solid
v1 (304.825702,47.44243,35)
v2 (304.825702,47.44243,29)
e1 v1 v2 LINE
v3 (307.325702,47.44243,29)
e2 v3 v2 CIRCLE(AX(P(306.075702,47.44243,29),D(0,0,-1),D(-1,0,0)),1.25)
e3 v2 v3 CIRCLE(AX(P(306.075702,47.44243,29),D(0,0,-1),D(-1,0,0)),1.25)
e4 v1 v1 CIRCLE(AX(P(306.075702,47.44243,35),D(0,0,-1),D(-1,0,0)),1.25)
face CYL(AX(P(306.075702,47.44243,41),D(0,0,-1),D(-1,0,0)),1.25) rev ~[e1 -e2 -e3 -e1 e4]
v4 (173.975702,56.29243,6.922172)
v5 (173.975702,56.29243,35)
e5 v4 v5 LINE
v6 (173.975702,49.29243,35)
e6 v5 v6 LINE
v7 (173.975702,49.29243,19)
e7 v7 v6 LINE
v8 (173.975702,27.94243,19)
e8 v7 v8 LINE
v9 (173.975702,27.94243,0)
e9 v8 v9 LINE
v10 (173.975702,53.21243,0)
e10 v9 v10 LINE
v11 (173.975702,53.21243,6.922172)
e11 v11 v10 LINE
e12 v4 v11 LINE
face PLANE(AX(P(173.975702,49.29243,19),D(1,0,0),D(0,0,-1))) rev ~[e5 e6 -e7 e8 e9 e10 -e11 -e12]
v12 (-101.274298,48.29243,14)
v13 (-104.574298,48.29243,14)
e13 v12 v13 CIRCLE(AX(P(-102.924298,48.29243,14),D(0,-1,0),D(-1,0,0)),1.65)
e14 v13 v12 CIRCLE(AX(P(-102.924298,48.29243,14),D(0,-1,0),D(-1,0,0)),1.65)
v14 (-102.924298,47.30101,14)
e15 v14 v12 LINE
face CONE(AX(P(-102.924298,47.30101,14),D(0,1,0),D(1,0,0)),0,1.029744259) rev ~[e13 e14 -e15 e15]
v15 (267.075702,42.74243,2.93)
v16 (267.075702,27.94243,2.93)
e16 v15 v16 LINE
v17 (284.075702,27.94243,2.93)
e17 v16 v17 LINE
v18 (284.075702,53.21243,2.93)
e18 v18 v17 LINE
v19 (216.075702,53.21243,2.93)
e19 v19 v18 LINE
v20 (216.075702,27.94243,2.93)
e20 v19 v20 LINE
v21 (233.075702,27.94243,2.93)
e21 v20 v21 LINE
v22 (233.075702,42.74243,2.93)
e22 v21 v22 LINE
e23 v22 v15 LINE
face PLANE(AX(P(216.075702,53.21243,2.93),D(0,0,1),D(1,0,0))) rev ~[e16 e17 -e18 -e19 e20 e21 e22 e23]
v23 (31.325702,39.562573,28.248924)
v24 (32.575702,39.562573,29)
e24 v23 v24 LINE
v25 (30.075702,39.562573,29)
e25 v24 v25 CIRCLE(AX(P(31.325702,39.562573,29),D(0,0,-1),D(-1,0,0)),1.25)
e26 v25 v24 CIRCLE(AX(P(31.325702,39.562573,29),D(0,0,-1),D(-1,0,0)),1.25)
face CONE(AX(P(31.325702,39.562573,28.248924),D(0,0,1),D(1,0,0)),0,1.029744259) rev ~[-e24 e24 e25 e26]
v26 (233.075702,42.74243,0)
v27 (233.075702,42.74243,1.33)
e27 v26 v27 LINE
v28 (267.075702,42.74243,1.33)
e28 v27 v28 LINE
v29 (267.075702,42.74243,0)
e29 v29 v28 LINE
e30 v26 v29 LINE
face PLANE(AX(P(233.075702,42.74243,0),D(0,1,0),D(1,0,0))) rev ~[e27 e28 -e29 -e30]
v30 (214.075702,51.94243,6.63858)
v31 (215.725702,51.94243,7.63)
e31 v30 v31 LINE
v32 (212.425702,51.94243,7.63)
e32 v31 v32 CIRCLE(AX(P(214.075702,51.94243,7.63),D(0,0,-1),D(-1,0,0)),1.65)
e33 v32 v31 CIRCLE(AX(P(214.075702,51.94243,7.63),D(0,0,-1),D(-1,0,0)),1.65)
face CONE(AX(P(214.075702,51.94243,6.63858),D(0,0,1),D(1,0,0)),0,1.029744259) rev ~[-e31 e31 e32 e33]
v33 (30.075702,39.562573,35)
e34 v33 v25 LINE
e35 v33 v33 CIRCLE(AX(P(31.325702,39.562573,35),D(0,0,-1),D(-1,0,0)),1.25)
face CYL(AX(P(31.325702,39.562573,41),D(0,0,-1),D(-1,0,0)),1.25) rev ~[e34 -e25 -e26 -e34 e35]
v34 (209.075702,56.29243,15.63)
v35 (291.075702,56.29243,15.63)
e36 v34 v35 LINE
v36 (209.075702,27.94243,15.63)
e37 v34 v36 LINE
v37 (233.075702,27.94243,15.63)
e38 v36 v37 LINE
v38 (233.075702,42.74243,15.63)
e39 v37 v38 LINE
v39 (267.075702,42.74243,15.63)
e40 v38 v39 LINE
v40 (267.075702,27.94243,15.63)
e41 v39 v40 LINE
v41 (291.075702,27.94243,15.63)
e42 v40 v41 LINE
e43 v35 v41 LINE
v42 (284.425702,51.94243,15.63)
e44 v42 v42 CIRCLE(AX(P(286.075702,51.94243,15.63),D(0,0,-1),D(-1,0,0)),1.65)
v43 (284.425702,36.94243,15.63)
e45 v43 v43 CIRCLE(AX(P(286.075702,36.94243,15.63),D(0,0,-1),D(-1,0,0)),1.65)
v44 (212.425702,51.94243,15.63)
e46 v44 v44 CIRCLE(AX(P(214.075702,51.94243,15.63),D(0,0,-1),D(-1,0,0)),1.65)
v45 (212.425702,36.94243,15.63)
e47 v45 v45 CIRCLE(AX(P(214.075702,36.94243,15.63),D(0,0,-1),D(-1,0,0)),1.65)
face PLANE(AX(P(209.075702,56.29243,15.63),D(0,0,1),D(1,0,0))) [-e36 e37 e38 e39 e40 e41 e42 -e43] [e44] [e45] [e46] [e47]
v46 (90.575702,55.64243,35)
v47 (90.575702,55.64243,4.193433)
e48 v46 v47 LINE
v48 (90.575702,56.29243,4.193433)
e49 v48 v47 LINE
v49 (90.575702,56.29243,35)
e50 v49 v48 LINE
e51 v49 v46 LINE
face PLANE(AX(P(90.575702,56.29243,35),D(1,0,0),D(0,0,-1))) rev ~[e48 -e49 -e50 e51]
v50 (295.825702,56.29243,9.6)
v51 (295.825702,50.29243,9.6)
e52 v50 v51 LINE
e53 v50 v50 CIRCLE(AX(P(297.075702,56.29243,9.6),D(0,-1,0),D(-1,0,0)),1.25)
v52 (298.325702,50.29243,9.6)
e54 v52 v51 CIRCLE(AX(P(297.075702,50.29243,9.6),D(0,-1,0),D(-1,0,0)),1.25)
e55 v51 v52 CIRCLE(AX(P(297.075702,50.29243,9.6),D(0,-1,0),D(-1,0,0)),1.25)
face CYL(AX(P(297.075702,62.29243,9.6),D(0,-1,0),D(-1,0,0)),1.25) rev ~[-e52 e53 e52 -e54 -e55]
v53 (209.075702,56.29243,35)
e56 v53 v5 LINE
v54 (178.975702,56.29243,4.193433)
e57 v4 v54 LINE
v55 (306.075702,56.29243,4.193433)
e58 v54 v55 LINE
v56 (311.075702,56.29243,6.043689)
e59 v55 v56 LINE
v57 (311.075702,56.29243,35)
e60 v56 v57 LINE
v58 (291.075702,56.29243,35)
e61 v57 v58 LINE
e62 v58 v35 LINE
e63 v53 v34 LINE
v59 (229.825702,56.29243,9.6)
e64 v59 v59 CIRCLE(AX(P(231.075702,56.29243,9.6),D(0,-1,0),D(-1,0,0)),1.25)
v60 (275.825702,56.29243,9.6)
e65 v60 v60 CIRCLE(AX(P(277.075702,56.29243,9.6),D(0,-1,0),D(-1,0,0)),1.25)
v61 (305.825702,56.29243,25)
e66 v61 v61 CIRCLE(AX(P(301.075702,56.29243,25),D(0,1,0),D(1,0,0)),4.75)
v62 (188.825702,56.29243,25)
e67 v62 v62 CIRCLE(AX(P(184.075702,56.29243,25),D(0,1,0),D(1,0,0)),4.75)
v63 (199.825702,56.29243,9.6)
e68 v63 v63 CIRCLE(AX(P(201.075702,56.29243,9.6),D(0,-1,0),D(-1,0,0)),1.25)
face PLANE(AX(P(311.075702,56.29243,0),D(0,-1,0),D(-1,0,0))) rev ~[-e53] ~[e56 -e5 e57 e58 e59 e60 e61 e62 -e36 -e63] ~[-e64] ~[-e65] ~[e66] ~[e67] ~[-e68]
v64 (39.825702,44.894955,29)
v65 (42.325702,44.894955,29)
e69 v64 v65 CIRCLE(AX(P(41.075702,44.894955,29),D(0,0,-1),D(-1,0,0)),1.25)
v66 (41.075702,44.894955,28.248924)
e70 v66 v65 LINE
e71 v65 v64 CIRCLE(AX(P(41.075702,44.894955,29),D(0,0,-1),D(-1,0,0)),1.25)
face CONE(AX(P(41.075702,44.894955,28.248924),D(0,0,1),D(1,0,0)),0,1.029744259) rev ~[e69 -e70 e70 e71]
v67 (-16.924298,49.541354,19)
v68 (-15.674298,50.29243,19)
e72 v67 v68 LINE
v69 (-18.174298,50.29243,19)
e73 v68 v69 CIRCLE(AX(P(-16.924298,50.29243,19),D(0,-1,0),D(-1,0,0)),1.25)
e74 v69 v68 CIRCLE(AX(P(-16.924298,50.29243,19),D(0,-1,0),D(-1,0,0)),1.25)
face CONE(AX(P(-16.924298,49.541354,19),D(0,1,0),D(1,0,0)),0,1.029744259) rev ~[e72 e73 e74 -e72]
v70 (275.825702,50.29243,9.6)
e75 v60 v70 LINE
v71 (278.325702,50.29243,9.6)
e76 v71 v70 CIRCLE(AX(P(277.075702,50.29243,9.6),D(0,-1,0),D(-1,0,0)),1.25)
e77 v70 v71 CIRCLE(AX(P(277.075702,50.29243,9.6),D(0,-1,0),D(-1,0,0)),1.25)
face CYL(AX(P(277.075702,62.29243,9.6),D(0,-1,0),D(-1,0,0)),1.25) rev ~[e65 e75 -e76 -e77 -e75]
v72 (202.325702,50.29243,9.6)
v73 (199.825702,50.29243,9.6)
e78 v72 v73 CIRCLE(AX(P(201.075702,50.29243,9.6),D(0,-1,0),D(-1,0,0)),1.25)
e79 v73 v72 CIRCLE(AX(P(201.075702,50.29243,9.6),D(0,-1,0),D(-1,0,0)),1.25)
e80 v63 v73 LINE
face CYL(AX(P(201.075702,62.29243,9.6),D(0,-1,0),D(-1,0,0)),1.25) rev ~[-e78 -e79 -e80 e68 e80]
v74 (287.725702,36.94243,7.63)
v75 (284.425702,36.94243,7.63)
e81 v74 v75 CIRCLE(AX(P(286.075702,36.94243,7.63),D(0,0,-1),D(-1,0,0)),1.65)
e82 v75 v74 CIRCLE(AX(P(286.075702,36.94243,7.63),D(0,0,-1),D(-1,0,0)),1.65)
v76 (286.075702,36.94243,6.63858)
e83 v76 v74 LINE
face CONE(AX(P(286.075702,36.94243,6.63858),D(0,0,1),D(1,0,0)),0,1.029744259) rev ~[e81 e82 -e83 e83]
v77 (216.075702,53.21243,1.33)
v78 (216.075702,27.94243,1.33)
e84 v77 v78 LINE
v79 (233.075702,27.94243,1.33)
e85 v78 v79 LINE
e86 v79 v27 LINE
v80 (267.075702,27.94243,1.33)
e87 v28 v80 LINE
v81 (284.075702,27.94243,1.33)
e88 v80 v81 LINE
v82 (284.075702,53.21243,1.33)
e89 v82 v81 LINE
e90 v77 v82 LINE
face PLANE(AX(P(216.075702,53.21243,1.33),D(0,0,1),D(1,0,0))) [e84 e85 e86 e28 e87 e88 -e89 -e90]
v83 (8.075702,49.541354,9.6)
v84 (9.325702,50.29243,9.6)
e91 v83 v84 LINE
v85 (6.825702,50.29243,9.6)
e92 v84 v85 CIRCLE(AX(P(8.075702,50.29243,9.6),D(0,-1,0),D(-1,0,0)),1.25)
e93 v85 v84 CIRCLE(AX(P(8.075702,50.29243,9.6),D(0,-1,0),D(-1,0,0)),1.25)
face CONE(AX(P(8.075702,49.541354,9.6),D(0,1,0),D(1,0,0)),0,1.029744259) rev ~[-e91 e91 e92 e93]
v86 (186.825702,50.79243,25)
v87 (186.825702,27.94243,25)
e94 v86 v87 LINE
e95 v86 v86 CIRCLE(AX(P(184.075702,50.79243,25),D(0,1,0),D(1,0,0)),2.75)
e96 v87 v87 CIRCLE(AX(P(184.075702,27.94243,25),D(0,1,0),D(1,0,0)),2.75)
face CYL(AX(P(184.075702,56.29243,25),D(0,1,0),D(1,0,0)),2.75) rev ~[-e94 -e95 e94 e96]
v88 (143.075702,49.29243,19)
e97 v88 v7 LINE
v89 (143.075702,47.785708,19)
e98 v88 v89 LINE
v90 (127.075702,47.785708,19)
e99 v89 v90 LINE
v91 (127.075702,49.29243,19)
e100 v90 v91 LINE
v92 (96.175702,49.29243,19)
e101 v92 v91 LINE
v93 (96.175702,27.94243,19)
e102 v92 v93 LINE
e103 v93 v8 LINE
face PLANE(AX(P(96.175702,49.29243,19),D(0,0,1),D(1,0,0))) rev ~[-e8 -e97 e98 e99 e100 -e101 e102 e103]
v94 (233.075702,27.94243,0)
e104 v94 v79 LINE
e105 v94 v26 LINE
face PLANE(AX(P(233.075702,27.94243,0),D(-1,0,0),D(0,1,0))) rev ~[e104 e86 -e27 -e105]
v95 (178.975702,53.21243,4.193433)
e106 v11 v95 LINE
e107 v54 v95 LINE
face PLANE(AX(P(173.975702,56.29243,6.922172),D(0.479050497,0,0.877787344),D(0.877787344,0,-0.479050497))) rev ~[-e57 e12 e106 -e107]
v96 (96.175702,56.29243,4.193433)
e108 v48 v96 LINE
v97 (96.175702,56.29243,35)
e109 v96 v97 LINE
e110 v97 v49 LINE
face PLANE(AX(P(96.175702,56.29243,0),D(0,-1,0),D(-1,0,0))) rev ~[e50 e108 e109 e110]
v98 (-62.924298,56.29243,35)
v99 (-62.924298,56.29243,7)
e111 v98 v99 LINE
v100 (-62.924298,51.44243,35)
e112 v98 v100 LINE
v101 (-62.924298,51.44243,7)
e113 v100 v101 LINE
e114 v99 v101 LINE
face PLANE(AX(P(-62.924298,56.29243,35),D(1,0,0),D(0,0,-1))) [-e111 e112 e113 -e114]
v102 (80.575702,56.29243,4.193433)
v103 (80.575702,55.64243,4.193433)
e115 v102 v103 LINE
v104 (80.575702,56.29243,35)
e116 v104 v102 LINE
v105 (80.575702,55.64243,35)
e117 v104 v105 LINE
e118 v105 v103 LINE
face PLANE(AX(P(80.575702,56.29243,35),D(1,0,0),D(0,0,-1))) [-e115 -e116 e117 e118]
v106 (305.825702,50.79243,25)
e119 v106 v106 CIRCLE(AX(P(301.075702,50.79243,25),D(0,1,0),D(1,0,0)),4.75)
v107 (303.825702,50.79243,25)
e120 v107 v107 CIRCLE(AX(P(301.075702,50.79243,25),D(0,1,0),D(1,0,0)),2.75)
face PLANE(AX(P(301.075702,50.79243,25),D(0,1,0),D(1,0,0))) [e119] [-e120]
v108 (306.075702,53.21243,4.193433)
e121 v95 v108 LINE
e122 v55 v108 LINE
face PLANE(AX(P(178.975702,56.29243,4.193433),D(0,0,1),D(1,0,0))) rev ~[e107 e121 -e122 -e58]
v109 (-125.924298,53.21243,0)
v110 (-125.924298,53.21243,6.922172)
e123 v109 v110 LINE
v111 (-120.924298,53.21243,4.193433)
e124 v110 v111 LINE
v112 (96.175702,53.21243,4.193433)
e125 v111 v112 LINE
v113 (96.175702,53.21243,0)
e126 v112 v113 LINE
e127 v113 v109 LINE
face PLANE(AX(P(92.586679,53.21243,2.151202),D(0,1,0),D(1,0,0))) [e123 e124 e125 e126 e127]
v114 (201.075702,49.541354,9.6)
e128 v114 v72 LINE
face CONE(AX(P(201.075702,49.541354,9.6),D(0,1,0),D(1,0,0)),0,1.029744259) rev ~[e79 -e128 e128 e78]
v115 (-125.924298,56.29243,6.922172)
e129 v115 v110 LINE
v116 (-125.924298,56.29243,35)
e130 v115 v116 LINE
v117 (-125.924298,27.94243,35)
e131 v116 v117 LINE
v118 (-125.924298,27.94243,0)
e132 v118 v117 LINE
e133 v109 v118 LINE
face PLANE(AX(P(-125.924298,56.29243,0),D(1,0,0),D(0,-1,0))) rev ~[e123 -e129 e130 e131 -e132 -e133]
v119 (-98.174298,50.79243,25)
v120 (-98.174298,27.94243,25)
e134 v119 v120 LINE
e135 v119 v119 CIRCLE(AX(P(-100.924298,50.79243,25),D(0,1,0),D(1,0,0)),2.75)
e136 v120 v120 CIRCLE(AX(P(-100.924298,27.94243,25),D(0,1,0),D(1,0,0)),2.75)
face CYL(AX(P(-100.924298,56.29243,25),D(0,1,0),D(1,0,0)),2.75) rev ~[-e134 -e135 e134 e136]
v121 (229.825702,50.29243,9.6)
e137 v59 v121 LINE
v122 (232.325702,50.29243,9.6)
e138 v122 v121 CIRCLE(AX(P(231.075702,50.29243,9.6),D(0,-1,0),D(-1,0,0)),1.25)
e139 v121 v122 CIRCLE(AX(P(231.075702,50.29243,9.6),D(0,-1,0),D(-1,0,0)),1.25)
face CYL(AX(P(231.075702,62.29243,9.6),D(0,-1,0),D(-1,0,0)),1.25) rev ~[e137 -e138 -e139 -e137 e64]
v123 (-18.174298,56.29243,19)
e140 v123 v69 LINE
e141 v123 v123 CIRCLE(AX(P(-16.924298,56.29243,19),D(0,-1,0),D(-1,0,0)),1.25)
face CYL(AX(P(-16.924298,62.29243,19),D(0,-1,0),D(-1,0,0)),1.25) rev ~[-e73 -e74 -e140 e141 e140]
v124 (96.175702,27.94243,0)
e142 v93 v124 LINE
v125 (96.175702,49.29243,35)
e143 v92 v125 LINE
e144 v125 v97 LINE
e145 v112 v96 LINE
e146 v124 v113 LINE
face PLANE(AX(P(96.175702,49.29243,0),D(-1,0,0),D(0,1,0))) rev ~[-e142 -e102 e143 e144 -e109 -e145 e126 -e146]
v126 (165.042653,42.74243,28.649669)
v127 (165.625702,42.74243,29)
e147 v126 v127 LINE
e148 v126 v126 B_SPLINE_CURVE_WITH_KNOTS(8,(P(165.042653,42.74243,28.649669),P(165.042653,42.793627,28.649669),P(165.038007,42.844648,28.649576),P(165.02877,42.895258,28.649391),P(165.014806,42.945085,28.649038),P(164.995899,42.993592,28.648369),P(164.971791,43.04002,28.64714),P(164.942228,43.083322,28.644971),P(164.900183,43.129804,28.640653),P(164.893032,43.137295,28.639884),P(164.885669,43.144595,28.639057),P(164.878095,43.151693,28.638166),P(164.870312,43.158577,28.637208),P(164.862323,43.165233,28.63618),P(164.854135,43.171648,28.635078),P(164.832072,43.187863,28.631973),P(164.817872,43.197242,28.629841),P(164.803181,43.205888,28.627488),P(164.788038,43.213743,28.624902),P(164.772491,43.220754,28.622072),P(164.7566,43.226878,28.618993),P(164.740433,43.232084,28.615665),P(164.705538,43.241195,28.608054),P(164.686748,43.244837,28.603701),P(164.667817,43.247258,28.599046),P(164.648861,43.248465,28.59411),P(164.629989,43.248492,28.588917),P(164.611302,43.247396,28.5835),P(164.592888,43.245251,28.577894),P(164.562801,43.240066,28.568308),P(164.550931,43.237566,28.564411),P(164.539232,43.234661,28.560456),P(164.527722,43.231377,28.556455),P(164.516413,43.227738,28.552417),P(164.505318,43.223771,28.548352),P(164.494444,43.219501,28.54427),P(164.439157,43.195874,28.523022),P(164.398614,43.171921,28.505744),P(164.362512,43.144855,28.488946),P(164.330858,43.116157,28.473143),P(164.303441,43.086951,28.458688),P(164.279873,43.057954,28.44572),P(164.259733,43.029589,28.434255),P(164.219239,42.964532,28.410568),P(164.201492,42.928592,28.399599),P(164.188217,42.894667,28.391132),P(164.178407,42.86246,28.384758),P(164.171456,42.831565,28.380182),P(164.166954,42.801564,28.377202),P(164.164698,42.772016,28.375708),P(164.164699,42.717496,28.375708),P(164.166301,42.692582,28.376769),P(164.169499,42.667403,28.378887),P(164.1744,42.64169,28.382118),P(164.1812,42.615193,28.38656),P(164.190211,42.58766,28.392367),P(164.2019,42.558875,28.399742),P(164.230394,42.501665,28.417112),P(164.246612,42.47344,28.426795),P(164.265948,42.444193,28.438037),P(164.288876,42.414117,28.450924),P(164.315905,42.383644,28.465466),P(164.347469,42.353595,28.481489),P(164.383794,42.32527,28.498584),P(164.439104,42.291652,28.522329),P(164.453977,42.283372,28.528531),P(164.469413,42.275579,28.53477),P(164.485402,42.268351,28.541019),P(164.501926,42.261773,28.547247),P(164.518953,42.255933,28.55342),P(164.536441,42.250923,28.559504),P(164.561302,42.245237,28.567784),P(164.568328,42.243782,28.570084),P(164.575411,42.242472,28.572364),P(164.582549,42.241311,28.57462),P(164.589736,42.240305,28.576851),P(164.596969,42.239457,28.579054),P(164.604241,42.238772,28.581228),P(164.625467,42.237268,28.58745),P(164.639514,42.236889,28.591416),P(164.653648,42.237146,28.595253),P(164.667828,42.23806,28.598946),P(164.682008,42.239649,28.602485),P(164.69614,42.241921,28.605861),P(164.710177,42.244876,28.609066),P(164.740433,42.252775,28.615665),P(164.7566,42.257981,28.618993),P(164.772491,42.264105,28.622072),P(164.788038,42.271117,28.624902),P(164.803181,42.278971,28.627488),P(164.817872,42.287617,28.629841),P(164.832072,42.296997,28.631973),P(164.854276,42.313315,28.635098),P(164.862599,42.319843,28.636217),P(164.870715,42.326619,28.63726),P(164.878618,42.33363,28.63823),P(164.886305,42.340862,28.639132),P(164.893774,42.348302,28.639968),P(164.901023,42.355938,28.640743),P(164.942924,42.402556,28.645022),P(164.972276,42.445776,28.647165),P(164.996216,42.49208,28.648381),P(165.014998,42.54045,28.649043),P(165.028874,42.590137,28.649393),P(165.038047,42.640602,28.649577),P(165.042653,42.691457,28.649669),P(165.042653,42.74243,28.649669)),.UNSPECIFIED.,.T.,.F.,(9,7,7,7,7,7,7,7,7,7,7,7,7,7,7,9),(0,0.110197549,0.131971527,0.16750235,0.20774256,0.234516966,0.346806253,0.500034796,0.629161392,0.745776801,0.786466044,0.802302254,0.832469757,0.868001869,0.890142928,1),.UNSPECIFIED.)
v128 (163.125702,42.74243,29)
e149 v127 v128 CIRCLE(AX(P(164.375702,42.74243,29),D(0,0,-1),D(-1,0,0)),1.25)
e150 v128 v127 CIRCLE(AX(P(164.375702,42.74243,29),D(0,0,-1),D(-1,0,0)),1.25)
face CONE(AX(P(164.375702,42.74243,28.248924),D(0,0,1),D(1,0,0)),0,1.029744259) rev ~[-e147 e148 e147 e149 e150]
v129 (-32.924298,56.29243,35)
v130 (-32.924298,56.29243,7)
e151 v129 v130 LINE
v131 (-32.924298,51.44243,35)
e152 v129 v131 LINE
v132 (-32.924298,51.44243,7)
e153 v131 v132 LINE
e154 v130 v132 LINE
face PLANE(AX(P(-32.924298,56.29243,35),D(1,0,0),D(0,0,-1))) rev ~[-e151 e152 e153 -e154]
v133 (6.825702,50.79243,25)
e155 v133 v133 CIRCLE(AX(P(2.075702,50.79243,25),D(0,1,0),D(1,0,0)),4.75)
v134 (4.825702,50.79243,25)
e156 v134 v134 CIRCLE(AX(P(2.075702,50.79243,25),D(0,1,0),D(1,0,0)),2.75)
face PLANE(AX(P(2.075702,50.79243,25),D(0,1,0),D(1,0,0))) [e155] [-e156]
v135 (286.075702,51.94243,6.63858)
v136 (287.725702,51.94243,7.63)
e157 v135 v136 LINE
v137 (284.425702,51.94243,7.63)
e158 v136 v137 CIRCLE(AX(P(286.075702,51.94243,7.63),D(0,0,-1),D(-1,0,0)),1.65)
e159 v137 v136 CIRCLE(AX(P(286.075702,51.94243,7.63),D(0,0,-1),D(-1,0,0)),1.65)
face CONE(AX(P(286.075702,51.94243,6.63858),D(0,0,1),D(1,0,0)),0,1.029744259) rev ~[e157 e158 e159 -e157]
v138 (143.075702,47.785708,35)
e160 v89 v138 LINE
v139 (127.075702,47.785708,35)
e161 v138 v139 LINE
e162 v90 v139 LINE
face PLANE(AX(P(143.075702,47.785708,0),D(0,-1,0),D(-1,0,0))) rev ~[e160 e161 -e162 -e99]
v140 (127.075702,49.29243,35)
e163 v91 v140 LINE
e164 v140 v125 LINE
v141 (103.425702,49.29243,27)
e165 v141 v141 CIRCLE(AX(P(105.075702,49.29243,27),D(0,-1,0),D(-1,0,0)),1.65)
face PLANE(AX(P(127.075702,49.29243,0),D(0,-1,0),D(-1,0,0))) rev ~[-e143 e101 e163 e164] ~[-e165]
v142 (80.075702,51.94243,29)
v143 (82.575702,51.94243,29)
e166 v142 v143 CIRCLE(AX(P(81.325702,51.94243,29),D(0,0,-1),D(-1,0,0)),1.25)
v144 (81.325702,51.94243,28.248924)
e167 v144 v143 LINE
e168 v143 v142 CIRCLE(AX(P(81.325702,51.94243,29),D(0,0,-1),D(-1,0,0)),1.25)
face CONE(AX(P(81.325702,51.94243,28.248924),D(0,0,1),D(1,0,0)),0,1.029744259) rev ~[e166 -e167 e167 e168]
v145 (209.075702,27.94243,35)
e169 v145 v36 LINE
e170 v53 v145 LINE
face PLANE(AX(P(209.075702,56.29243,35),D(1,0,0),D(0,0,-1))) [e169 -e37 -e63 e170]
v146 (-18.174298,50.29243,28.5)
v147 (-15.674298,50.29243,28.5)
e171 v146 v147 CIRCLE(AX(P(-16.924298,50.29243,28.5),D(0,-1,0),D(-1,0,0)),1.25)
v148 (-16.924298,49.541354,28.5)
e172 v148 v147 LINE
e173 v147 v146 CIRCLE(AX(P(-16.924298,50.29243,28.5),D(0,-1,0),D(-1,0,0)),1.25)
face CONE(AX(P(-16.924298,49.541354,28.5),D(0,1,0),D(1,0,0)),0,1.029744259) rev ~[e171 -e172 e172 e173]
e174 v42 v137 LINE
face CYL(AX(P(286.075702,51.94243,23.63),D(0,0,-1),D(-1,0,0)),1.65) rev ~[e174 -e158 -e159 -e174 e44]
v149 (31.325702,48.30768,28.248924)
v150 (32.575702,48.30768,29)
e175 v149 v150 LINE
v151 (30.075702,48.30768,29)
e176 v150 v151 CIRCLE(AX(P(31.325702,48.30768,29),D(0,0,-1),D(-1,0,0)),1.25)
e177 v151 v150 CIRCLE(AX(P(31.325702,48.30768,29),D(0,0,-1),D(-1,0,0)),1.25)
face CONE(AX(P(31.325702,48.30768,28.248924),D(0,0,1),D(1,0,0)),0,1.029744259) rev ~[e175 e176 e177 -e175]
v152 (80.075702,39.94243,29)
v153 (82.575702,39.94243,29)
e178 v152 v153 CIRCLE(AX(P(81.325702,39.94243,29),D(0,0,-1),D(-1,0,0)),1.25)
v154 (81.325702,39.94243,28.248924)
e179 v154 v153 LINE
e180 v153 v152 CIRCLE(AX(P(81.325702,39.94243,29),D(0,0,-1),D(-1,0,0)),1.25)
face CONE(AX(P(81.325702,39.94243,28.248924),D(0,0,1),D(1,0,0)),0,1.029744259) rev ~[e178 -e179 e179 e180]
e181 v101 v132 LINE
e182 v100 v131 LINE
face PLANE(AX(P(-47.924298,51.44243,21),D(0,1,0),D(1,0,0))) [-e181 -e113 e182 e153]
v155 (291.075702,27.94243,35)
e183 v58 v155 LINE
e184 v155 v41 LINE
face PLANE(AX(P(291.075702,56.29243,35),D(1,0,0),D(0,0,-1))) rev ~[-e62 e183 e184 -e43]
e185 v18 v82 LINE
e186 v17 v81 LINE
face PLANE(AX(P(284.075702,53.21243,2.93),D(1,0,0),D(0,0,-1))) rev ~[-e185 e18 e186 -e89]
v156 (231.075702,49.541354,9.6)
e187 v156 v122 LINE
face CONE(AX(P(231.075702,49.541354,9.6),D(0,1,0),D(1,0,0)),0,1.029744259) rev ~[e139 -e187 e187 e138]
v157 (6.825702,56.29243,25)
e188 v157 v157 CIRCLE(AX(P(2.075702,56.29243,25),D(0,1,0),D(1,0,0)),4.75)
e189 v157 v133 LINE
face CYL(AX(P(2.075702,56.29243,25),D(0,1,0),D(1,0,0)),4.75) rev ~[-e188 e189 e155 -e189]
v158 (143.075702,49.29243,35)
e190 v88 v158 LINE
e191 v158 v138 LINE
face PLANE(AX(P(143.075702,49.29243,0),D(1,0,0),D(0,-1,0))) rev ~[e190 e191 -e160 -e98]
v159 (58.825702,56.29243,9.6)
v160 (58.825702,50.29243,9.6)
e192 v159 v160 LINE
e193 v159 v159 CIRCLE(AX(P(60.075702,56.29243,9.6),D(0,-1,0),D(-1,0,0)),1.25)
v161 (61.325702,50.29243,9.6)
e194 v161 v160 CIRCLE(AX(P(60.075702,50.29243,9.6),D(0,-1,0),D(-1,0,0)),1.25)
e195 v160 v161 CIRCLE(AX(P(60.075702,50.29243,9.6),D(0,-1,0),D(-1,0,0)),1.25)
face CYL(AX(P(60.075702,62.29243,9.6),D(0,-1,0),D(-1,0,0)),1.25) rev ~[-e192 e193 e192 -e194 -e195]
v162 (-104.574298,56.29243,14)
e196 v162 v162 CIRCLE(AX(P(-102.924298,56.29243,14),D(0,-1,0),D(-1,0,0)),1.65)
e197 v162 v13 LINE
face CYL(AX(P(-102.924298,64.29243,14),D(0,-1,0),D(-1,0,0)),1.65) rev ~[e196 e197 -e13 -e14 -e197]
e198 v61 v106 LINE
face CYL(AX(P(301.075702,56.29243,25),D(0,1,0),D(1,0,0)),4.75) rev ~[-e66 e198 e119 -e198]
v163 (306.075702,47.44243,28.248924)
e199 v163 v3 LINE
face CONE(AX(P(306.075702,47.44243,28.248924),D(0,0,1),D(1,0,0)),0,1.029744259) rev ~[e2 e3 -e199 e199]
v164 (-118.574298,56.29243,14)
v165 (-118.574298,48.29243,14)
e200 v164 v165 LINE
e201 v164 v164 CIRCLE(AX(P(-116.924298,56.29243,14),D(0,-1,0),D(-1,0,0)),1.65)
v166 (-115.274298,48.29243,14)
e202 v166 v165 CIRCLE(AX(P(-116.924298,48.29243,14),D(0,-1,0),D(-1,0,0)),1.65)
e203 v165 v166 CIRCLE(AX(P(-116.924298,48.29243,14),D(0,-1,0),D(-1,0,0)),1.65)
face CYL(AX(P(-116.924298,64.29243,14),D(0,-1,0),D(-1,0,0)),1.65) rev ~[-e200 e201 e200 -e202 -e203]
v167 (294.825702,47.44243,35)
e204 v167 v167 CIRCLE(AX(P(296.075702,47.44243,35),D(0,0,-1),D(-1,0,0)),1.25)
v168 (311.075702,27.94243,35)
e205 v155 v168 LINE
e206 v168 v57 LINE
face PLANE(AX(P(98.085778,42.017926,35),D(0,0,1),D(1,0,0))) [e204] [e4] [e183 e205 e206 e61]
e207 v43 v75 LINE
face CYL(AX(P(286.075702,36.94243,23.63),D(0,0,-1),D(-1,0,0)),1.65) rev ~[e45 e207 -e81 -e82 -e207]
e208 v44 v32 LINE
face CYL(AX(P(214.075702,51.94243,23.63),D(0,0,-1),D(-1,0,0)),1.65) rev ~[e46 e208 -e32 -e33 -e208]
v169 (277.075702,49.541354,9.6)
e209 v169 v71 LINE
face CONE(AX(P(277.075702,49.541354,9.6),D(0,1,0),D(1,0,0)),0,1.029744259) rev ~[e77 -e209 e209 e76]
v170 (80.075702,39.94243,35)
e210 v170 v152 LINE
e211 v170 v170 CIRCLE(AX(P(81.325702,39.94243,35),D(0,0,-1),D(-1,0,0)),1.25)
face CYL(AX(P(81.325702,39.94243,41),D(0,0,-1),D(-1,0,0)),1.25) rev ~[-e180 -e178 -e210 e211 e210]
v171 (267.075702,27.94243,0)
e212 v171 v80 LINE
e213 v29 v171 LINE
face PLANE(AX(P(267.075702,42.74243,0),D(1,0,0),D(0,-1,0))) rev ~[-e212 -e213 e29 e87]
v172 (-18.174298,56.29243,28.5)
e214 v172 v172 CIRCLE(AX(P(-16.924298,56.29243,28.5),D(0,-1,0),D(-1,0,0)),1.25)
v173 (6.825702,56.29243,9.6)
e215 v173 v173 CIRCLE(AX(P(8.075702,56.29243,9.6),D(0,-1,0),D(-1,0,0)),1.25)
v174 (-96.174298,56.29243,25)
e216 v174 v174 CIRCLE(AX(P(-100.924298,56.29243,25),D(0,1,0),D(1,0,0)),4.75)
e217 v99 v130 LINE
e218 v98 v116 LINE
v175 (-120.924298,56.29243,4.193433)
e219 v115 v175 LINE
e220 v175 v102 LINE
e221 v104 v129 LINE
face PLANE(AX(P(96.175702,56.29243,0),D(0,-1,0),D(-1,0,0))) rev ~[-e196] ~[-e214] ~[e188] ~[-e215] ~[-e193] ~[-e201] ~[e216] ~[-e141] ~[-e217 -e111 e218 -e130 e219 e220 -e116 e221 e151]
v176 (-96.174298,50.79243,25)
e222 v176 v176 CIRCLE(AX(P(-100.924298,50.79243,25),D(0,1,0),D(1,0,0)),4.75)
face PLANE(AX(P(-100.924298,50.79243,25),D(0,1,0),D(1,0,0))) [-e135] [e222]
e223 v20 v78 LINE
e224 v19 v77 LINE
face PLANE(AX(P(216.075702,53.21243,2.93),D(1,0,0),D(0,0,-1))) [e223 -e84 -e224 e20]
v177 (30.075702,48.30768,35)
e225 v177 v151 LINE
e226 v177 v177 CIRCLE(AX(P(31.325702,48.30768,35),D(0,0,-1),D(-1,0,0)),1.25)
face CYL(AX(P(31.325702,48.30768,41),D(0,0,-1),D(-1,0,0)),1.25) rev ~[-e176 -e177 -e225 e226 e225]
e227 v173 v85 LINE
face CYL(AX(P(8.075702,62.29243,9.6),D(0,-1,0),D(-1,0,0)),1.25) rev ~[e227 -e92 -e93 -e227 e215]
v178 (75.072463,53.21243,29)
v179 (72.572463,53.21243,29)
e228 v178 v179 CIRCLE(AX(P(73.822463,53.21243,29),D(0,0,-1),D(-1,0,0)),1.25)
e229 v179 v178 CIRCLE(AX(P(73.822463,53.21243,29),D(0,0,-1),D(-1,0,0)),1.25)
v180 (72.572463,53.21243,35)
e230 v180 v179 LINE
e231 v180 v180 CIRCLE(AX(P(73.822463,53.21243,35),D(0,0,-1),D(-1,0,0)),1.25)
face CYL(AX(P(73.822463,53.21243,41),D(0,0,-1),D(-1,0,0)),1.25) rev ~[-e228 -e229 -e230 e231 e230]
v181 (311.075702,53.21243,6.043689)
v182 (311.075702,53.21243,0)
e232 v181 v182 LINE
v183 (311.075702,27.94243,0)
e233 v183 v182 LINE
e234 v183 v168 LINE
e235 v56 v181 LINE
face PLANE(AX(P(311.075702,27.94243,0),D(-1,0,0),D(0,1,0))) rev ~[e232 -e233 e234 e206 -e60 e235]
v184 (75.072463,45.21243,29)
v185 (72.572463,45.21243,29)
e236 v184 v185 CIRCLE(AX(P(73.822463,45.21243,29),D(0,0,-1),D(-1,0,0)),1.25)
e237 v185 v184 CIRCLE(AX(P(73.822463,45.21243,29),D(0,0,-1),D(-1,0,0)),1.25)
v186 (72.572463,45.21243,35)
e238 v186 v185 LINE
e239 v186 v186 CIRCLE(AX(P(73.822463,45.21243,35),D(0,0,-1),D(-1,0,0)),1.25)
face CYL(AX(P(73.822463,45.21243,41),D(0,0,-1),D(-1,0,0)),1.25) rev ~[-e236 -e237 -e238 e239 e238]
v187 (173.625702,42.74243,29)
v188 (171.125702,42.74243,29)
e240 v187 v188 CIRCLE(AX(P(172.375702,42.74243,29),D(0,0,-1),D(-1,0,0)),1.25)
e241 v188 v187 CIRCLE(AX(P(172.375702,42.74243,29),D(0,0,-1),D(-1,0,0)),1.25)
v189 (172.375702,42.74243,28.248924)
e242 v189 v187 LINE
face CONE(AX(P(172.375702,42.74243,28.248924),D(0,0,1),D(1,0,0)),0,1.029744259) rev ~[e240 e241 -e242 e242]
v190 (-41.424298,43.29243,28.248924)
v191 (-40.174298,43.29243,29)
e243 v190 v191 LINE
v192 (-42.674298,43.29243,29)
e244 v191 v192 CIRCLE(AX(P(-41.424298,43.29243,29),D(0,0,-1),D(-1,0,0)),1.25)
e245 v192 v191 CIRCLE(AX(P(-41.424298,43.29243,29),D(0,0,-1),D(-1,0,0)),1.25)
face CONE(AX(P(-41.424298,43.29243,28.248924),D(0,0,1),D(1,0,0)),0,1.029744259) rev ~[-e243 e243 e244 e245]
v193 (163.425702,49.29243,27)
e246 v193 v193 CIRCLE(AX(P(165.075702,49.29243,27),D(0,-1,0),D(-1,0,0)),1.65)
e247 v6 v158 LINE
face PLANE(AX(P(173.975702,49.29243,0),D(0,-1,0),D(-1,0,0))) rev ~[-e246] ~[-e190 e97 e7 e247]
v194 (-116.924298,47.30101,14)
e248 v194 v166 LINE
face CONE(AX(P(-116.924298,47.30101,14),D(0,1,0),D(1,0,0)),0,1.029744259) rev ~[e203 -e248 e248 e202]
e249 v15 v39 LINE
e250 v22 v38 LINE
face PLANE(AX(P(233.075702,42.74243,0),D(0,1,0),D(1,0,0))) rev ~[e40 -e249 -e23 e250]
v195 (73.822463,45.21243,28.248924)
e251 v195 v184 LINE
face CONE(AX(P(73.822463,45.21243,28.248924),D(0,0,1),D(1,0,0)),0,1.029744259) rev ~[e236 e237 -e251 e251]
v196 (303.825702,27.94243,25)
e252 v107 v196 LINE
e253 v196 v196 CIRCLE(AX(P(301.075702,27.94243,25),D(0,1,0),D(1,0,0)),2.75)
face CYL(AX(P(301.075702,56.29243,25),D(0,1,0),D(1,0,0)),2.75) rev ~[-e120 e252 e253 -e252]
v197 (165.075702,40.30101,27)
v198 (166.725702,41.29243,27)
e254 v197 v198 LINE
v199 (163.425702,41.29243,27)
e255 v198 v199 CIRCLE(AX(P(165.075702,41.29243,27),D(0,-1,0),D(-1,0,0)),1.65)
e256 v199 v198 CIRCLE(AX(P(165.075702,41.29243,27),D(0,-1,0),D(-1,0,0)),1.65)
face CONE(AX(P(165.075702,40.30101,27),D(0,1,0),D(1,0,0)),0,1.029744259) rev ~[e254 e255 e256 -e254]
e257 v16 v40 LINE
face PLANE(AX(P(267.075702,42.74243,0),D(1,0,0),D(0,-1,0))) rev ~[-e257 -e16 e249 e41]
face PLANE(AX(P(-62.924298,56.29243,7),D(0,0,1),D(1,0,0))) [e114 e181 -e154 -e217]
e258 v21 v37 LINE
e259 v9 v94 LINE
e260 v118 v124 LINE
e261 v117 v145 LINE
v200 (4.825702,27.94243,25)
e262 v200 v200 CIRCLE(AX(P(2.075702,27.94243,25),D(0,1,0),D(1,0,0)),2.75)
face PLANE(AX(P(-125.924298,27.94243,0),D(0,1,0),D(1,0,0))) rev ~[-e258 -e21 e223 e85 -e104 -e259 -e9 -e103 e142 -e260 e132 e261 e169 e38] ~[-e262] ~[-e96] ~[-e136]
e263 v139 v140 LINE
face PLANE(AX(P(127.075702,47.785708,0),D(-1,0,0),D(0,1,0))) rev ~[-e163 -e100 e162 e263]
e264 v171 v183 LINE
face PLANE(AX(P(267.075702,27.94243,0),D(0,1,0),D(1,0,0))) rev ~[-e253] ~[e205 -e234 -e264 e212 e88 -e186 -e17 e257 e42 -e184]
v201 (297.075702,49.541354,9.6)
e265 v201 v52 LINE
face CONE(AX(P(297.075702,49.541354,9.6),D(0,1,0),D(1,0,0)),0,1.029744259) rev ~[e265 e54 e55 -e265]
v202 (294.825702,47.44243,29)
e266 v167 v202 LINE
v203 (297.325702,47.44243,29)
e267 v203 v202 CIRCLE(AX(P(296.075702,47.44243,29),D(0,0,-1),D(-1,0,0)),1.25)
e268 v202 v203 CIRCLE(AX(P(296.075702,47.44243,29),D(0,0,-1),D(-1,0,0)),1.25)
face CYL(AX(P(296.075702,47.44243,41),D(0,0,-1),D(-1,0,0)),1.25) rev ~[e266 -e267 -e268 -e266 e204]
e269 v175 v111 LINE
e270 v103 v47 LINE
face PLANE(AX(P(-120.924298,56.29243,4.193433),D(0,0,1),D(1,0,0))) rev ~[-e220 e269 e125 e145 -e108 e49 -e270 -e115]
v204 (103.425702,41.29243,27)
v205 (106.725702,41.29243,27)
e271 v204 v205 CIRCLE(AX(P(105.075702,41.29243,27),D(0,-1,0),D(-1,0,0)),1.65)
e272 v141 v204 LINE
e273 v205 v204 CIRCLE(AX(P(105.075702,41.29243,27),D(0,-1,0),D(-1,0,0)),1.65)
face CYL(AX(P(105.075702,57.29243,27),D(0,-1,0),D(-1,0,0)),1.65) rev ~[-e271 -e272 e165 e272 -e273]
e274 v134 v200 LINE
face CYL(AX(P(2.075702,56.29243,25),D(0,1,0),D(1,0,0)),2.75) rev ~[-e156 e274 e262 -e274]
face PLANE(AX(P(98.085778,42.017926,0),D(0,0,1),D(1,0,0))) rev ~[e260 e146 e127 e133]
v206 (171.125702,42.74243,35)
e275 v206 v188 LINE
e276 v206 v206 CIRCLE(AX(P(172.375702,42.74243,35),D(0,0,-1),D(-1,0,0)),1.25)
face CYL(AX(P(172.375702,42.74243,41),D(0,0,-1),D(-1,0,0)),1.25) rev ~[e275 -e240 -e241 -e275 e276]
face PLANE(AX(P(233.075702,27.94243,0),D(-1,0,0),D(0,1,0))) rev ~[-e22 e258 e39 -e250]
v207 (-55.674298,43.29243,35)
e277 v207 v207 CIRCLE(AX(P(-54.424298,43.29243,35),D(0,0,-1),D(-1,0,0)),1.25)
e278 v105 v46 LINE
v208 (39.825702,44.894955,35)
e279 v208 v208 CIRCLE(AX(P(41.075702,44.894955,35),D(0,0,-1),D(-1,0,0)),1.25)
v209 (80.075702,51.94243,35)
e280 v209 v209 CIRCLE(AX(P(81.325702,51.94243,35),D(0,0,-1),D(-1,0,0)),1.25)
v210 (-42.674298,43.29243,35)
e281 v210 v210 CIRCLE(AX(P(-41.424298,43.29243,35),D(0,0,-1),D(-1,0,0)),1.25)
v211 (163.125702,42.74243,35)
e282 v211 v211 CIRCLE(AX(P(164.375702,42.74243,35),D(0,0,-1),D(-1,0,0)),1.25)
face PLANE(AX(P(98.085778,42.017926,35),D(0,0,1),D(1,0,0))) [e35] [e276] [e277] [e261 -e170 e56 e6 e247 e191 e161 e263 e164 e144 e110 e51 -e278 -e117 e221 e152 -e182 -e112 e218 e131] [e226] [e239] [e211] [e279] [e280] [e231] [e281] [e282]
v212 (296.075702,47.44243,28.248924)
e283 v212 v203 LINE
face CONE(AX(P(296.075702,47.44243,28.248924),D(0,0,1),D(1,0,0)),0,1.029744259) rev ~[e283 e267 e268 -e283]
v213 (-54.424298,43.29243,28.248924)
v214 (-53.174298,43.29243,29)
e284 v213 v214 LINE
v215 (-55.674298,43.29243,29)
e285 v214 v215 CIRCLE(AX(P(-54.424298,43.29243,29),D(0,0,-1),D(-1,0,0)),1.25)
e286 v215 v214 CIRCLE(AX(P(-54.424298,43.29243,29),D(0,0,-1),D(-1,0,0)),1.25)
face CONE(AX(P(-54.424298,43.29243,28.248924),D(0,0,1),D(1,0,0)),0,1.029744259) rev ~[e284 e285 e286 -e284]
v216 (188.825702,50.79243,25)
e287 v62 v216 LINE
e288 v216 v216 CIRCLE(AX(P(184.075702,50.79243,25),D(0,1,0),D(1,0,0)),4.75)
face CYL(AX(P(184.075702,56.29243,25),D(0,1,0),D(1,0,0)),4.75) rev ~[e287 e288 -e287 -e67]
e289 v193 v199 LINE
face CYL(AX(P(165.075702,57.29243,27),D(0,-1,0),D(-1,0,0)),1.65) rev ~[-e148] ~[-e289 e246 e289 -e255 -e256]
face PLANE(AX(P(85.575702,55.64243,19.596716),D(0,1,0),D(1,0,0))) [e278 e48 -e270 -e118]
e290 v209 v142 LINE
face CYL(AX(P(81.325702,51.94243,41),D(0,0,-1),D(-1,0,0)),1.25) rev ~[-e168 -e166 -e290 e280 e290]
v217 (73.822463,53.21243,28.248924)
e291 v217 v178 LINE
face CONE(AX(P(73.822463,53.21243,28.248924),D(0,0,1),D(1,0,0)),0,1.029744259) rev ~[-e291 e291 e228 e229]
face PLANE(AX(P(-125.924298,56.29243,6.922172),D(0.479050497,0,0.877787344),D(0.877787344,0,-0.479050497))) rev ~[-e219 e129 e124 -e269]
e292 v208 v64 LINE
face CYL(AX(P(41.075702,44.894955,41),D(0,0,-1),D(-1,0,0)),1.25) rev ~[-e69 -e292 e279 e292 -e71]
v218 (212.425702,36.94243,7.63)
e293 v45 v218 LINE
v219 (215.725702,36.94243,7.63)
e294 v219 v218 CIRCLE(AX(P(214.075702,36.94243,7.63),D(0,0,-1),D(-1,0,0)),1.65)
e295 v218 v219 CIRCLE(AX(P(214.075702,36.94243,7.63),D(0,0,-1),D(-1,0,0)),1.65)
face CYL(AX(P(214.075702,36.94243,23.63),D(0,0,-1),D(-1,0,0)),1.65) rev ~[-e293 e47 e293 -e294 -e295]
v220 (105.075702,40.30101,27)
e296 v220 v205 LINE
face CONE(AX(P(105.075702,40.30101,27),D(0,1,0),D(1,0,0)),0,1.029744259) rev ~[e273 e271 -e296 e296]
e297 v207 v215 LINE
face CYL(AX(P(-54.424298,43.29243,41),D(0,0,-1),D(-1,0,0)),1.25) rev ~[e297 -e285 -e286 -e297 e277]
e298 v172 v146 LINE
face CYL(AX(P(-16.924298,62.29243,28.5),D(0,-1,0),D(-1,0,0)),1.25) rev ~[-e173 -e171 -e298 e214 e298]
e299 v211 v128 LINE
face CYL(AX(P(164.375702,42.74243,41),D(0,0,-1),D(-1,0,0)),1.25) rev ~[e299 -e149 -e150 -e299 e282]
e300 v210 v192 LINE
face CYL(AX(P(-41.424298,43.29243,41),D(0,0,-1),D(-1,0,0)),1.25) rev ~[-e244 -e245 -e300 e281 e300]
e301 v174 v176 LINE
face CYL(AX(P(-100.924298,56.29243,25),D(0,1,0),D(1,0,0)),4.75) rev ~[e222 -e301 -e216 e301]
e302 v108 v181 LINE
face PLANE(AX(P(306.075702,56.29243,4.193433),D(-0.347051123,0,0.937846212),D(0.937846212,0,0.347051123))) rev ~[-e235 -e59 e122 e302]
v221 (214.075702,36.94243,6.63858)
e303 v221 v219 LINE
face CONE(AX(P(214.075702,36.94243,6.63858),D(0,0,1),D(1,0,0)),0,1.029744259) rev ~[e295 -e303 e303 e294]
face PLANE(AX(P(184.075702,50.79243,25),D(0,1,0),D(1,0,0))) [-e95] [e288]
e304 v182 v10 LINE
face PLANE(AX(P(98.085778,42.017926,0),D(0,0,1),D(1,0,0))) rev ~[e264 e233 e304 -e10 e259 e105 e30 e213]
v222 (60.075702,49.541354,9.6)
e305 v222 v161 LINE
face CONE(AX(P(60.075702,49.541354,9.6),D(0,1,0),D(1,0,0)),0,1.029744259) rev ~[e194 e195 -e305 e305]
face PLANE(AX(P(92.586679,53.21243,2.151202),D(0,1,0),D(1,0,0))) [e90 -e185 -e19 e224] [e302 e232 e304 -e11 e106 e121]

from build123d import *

# Parameters (mm, degrees)
BOSS_EXTRUDE1_DEPTH   = 35
SKETCH2_W             = 30
SKETCH2_H             = 28
CUT_EXTRUDE1_DEPTH    = 4.85
SKETCH3_W             = 77.8
SKETCH3_H             = 19
CUT_EXTRUDE2_DEPTH    = 22.35
SKETCH4_W             = 82
SKETCH4_H             = 19.37
CUT_EXTRUDE3_DEPTH    = 29.35
CUT_EXTRUDE5_DEPTH    = 3.08
SKETCH7_W             = 68
SKETCH7_H             = 1.6
CUT_EXTRUDE6_DEPTH    = 26.27
SKETCH8_R             = 2.75
CUT_EXTRUDE7_DEPTH    = 29.35
SKETCH9_R             = 4.75
CUT_EXTRUDE8_DEPTH    = 5.5
M4_TAPPED_HOLE1_D     = 3.3
M4_TAPPED_HOLE1_DEPTH = 8
M4_TAPPED_HOLE1_TIP   = 0.991420021
M4_TAPPED_HOLE2_D     = 3.3
M4_TAPPED_HOLE2_DEPTH = 8
M4_TAPPED_HOLE2_TIP   = 0.991420021
M3_TAPPED_HOLE1_D     = 2.5
M3_TAPPED_HOLE1_DEPTH = 6
M3_TAPPED_HOLE1_TIP   = 0.751075774
M3_TAPPED_HOLE2_D     = 2.5
M3_TAPPED_HOLE2_DEPTH = 6
M3_TAPPED_HOLE2_TIP   = 0.751075774
M3_TAPPED_HOLE3_D     = 2.5
M3_TAPPED_HOLE3_DEPTH = 6
M3_TAPPED_HOLE3_TIP   = 0.751075774
M4_TAPPED_HOLE3_D     = 3.3
M4_TAPPED_HOLE3_DEPTH = 8
M4_TAPPED_HOLE3_TIP   = 0.991420021
SKETCH22_W            = 10
SKETCH22_H            = 30.806567365
CUT_EXTRUDE9_DEPTH    = 0.65


with BuildPart() as part:
    # Sketch1 → Boss-Extrude1 (new body)
    with BuildSketch(Plane.XY):
        Polygon((267.075702076, 27.942429792), (311.075702076, 27.942429792), (311.075702076, 56.292429792), (173.975702076, 56.292429792), (173.975702076, 49.292429792), (143.075702076, 49.292429792), (143.075702076, 47.785708056), (127.075702076, 47.785708056), (127.075702076, 49.292429792), (96.175702076, 49.292429792), (96.175702076, 56.292429792), (-125.924297924, 56.292429792), (-125.924297924, 27.942429792), (233.075702076, 27.942429792), (233.075702076, 42.742429792), (267.075702076, 42.742429792), align=None)
    extrude(amount=BOSS_EXTRUDE1_DEPTH)

    # Sketch2 → Cut-Extrude1 (cut)
    with BuildSketch(Plane(origin=(0, 56.292429792, 0), x_dir=(1, 0, 0), z_dir=(0, 1, 0))):
        with Locations((-47.924297924, -21)):
            Rectangle(SKETCH2_W, SKETCH2_H)
    extrude(amount=-CUT_EXTRUDE1_DEPTH, mode=Mode.SUBTRACT)

    # Sketch3 → Cut-Extrude2 (cut, through all)
    with BuildSketch(Plane(origin=(0, 49.292429792, 0), x_dir=(1, 0, 0), z_dir=(0, 1, 0))):
        with Locations((135.075702076, -9.5)):
            Rectangle(SKETCH3_W, SKETCH3_H)
    extrude(amount=-CUT_EXTRUDE2_DEPTH, mode=Mode.SUBTRACT)

    # Sketch4 → Cut-Extrude3 (cut, through all)
    with BuildSketch(Plane(origin=(0, 56.292429792, 0), x_dir=(1, 0, 0), z_dir=(0, 1, 0))):
        with Locations((250.075702076, -25.315)):
            Rectangle(SKETCH4_W, SKETCH4_H)
    extrude(amount=-CUT_EXTRUDE3_DEPTH, mode=Mode.SUBTRACT)

    # Sketch5 → Cut-Extrude5 (cut)
    with BuildSketch(Plane(origin=(0, 56.292429792, 0), x_dir=(1, 0, 0), z_dir=(0, 1, 0))):
        Polygon((-125.924297924, -6.922171551), (-120.924297924, -4.193432635), (96.175702076, -4.193432635), (173.975702076, -4.193432635), (173.975702076, -6.922171551), (178.975702076, -4.193432635), (306.075702076, -4.193432635), (311.075702076, -6.043688669), (311.075702076, 0), (-125.924297924, 0), align=None)
    extrude(amount=-CUT_EXTRUDE5_DEPTH, mode=Mode.SUBTRACT)

    # Sketch7 → Cut-Extrude6 (cut, through all)
    with BuildSketch(Plane(origin=(0, 53.212429792, 0), x_dir=(1, 0, 0), z_dir=(0, 1, 0))):
        with Locations((250.075702076, -2.13)):
            Rectangle(SKETCH7_W, SKETCH7_H)
    extrude(amount=-CUT_EXTRUDE6_DEPTH, mode=Mode.SUBTRACT)

    # Sketch8 → Cut-Extrude7 (cut, through all)
    with BuildSketch(Plane(origin=(0, 56.292429792, 0), x_dir=(1, 0, 0), z_dir=(0, 1, 0))):
        with Locations((-100.924297924, -25)):
            Circle(SKETCH8_R)
        with Locations((2.075702076, -25)):
            Circle(SKETCH8_R)
        with Locations((184.075702076, -25)):
            Circle(SKETCH8_R)
        with Locations((301.075702076, -25)):
            Circle(SKETCH8_R)
    extrude(amount=-CUT_EXTRUDE7_DEPTH, mode=Mode.SUBTRACT)

    # Sketch9 → Cut-Extrude8 (cut)
    with BuildSketch(Plane(origin=(0, 56.292429792, 0), x_dir=(1, 0, 0), z_dir=(0, 1, 0))):
        with Locations((-100.924297924, -25)):
            Circle(SKETCH9_R)
        with Locations((2.075702076, -25)):
            Circle(SKETCH9_R)
        with Locations((184.075702076, -25)):
            Circle(SKETCH9_R)
        with Locations((301.075702076, -25)):
            Circle(SKETCH9_R)
    extrude(amount=-CUT_EXTRUDE8_DEPTH, mode=Mode.SUBTRACT)

    # M4 Tapped Hole1
    with Locations(Plane(origin=(0, 56.292429792, 0), x_dir=(1, 0, 0), z_dir=(0, 1, 0))):
        with Locations((-116.924297924, -14), (-102.924297924, -14)):
            Hole(M4_TAPPED_HOLE1_D / 2, depth=M4_TAPPED_HOLE1_DEPTH)
            with Locations((0, 0, -(M4_TAPPED_HOLE1_DEPTH + M4_TAPPED_HOLE1_TIP / 2))):  # 118° drill point
                Cone(0, M4_TAPPED_HOLE1_D / 2, M4_TAPPED_HOLE1_TIP, mode=Mode.SUBTRACT)

    # M4 Tapped Hole2
    with Locations(Plane(origin=(0, 49.292429792, 0), x_dir=(1, 0, 0), z_dir=(0, 1, 0))):
        with Locations((105.075702076, -27), (165.075702076, -27)):
            Hole(M4_TAPPED_HOLE2_D / 2, depth=M4_TAPPED_HOLE2_DEPTH)
            with Locations((0, 0, -(M4_TAPPED_HOLE2_DEPTH + M4_TAPPED_HOLE2_TIP / 2))):  # 118° drill point
                Cone(0, M4_TAPPED_HOLE2_D / 2, M4_TAPPED_HOLE2_TIP, mode=Mode.SUBTRACT)

    # M3 Tapped Hole1
    with Locations(Plane(origin=(0, 56.292429792, 0), x_dir=(1, 0, 0), z_dir=(0, 1, 0))):
        with Locations((-16.924297924, -19), (-16.924297924, -28.5), (8.075702076, -9.6), (60.075702076, -9.6), (201.075702076, -9.6), (231.075702076, -9.6), (277.075702076, -9.6), (297.075702076, -9.6)):
            Hole(M3_TAPPED_HOLE1_D / 2, depth=M3_TAPPED_HOLE1_DEPTH)
            with Locations((0, 0, -(M3_TAPPED_HOLE1_DEPTH + M3_TAPPED_HOLE1_TIP / 2))):  # 118° drill point
                Cone(0, M3_TAPPED_HOLE1_D / 2, M3_TAPPED_HOLE1_TIP, mode=Mode.SUBTRACT)

    # M3 Tapped Hole2
    with Locations(Plane.XY.offset(35)):
        with Locations((-54.424297924, 43.292429792), (-41.424297924, 43.292429792), (31.325702076, 48.307679659), (31.325702076, 39.562572504), (41.075702076, 44.894954915), (81.325702076, 51.942429792), (81.325702076, 39.942429792), (164.375702076, 42.742429792), (172.375702076, 42.742429792), (296.075702076, 47.442429792), (306.075702076, 47.442429792)):
            Hole(M3_TAPPED_HOLE2_D / 2, depth=M3_TAPPED_HOLE2_DEPTH)
            with Locations((0, 0, -(M3_TAPPED_HOLE2_DEPTH + M3_TAPPED_HOLE2_TIP / 2))):  # 118° drill point
                Cone(0, M3_TAPPED_HOLE2_D / 2, M3_TAPPED_HOLE2_TIP, mode=Mode.SUBTRACT)

    # M3 Tapped Hole3
    with Locations(Plane.XY.offset(35)):
        with Locations((73.822463361, 53.212429792), (73.822463361, 45.212429792)):
            Hole(M3_TAPPED_HOLE3_D / 2, depth=M3_TAPPED_HOLE3_DEPTH)
            with Locations((0, 0, -(M3_TAPPED_HOLE3_DEPTH + M3_TAPPED_HOLE3_TIP / 2))):  # 118° drill point
                Cone(0, M3_TAPPED_HOLE3_D / 2, M3_TAPPED_HOLE3_TIP, mode=Mode.SUBTRACT)

    # M4 Tapped Hole3
    with Locations(Plane.XY.offset(15.63)):
        with Locations((214.075702076, 51.942429792), (214.075702076, 36.942429792), (286.075702076, 36.942429792), (286.075702076, 51.942429792)):
            Hole(M4_TAPPED_HOLE3_D / 2, depth=M4_TAPPED_HOLE3_DEPTH)
            with Locations((0, 0, -(M4_TAPPED_HOLE3_DEPTH + M4_TAPPED_HOLE3_TIP / 2))):  # 118° drill point
                Cone(0, M4_TAPPED_HOLE3_D / 2, M4_TAPPED_HOLE3_TIP, mode=Mode.SUBTRACT)

    # Sketch22 → Cut-Extrude9 (cut)
    with BuildSketch(Plane(origin=(0, 56.292429792, 0), x_dir=(1, 0, 0), z_dir=(0, 1, 0))):
        with Locations((85.575702076, -19.596716318)):
            Rectangle(SKETCH22_W, SKETCH22_H)
    extrude(amount=-CUT_EXTRUDE9_DEPTH, mode=Mode.SUBTRACT)


solid = part.part
